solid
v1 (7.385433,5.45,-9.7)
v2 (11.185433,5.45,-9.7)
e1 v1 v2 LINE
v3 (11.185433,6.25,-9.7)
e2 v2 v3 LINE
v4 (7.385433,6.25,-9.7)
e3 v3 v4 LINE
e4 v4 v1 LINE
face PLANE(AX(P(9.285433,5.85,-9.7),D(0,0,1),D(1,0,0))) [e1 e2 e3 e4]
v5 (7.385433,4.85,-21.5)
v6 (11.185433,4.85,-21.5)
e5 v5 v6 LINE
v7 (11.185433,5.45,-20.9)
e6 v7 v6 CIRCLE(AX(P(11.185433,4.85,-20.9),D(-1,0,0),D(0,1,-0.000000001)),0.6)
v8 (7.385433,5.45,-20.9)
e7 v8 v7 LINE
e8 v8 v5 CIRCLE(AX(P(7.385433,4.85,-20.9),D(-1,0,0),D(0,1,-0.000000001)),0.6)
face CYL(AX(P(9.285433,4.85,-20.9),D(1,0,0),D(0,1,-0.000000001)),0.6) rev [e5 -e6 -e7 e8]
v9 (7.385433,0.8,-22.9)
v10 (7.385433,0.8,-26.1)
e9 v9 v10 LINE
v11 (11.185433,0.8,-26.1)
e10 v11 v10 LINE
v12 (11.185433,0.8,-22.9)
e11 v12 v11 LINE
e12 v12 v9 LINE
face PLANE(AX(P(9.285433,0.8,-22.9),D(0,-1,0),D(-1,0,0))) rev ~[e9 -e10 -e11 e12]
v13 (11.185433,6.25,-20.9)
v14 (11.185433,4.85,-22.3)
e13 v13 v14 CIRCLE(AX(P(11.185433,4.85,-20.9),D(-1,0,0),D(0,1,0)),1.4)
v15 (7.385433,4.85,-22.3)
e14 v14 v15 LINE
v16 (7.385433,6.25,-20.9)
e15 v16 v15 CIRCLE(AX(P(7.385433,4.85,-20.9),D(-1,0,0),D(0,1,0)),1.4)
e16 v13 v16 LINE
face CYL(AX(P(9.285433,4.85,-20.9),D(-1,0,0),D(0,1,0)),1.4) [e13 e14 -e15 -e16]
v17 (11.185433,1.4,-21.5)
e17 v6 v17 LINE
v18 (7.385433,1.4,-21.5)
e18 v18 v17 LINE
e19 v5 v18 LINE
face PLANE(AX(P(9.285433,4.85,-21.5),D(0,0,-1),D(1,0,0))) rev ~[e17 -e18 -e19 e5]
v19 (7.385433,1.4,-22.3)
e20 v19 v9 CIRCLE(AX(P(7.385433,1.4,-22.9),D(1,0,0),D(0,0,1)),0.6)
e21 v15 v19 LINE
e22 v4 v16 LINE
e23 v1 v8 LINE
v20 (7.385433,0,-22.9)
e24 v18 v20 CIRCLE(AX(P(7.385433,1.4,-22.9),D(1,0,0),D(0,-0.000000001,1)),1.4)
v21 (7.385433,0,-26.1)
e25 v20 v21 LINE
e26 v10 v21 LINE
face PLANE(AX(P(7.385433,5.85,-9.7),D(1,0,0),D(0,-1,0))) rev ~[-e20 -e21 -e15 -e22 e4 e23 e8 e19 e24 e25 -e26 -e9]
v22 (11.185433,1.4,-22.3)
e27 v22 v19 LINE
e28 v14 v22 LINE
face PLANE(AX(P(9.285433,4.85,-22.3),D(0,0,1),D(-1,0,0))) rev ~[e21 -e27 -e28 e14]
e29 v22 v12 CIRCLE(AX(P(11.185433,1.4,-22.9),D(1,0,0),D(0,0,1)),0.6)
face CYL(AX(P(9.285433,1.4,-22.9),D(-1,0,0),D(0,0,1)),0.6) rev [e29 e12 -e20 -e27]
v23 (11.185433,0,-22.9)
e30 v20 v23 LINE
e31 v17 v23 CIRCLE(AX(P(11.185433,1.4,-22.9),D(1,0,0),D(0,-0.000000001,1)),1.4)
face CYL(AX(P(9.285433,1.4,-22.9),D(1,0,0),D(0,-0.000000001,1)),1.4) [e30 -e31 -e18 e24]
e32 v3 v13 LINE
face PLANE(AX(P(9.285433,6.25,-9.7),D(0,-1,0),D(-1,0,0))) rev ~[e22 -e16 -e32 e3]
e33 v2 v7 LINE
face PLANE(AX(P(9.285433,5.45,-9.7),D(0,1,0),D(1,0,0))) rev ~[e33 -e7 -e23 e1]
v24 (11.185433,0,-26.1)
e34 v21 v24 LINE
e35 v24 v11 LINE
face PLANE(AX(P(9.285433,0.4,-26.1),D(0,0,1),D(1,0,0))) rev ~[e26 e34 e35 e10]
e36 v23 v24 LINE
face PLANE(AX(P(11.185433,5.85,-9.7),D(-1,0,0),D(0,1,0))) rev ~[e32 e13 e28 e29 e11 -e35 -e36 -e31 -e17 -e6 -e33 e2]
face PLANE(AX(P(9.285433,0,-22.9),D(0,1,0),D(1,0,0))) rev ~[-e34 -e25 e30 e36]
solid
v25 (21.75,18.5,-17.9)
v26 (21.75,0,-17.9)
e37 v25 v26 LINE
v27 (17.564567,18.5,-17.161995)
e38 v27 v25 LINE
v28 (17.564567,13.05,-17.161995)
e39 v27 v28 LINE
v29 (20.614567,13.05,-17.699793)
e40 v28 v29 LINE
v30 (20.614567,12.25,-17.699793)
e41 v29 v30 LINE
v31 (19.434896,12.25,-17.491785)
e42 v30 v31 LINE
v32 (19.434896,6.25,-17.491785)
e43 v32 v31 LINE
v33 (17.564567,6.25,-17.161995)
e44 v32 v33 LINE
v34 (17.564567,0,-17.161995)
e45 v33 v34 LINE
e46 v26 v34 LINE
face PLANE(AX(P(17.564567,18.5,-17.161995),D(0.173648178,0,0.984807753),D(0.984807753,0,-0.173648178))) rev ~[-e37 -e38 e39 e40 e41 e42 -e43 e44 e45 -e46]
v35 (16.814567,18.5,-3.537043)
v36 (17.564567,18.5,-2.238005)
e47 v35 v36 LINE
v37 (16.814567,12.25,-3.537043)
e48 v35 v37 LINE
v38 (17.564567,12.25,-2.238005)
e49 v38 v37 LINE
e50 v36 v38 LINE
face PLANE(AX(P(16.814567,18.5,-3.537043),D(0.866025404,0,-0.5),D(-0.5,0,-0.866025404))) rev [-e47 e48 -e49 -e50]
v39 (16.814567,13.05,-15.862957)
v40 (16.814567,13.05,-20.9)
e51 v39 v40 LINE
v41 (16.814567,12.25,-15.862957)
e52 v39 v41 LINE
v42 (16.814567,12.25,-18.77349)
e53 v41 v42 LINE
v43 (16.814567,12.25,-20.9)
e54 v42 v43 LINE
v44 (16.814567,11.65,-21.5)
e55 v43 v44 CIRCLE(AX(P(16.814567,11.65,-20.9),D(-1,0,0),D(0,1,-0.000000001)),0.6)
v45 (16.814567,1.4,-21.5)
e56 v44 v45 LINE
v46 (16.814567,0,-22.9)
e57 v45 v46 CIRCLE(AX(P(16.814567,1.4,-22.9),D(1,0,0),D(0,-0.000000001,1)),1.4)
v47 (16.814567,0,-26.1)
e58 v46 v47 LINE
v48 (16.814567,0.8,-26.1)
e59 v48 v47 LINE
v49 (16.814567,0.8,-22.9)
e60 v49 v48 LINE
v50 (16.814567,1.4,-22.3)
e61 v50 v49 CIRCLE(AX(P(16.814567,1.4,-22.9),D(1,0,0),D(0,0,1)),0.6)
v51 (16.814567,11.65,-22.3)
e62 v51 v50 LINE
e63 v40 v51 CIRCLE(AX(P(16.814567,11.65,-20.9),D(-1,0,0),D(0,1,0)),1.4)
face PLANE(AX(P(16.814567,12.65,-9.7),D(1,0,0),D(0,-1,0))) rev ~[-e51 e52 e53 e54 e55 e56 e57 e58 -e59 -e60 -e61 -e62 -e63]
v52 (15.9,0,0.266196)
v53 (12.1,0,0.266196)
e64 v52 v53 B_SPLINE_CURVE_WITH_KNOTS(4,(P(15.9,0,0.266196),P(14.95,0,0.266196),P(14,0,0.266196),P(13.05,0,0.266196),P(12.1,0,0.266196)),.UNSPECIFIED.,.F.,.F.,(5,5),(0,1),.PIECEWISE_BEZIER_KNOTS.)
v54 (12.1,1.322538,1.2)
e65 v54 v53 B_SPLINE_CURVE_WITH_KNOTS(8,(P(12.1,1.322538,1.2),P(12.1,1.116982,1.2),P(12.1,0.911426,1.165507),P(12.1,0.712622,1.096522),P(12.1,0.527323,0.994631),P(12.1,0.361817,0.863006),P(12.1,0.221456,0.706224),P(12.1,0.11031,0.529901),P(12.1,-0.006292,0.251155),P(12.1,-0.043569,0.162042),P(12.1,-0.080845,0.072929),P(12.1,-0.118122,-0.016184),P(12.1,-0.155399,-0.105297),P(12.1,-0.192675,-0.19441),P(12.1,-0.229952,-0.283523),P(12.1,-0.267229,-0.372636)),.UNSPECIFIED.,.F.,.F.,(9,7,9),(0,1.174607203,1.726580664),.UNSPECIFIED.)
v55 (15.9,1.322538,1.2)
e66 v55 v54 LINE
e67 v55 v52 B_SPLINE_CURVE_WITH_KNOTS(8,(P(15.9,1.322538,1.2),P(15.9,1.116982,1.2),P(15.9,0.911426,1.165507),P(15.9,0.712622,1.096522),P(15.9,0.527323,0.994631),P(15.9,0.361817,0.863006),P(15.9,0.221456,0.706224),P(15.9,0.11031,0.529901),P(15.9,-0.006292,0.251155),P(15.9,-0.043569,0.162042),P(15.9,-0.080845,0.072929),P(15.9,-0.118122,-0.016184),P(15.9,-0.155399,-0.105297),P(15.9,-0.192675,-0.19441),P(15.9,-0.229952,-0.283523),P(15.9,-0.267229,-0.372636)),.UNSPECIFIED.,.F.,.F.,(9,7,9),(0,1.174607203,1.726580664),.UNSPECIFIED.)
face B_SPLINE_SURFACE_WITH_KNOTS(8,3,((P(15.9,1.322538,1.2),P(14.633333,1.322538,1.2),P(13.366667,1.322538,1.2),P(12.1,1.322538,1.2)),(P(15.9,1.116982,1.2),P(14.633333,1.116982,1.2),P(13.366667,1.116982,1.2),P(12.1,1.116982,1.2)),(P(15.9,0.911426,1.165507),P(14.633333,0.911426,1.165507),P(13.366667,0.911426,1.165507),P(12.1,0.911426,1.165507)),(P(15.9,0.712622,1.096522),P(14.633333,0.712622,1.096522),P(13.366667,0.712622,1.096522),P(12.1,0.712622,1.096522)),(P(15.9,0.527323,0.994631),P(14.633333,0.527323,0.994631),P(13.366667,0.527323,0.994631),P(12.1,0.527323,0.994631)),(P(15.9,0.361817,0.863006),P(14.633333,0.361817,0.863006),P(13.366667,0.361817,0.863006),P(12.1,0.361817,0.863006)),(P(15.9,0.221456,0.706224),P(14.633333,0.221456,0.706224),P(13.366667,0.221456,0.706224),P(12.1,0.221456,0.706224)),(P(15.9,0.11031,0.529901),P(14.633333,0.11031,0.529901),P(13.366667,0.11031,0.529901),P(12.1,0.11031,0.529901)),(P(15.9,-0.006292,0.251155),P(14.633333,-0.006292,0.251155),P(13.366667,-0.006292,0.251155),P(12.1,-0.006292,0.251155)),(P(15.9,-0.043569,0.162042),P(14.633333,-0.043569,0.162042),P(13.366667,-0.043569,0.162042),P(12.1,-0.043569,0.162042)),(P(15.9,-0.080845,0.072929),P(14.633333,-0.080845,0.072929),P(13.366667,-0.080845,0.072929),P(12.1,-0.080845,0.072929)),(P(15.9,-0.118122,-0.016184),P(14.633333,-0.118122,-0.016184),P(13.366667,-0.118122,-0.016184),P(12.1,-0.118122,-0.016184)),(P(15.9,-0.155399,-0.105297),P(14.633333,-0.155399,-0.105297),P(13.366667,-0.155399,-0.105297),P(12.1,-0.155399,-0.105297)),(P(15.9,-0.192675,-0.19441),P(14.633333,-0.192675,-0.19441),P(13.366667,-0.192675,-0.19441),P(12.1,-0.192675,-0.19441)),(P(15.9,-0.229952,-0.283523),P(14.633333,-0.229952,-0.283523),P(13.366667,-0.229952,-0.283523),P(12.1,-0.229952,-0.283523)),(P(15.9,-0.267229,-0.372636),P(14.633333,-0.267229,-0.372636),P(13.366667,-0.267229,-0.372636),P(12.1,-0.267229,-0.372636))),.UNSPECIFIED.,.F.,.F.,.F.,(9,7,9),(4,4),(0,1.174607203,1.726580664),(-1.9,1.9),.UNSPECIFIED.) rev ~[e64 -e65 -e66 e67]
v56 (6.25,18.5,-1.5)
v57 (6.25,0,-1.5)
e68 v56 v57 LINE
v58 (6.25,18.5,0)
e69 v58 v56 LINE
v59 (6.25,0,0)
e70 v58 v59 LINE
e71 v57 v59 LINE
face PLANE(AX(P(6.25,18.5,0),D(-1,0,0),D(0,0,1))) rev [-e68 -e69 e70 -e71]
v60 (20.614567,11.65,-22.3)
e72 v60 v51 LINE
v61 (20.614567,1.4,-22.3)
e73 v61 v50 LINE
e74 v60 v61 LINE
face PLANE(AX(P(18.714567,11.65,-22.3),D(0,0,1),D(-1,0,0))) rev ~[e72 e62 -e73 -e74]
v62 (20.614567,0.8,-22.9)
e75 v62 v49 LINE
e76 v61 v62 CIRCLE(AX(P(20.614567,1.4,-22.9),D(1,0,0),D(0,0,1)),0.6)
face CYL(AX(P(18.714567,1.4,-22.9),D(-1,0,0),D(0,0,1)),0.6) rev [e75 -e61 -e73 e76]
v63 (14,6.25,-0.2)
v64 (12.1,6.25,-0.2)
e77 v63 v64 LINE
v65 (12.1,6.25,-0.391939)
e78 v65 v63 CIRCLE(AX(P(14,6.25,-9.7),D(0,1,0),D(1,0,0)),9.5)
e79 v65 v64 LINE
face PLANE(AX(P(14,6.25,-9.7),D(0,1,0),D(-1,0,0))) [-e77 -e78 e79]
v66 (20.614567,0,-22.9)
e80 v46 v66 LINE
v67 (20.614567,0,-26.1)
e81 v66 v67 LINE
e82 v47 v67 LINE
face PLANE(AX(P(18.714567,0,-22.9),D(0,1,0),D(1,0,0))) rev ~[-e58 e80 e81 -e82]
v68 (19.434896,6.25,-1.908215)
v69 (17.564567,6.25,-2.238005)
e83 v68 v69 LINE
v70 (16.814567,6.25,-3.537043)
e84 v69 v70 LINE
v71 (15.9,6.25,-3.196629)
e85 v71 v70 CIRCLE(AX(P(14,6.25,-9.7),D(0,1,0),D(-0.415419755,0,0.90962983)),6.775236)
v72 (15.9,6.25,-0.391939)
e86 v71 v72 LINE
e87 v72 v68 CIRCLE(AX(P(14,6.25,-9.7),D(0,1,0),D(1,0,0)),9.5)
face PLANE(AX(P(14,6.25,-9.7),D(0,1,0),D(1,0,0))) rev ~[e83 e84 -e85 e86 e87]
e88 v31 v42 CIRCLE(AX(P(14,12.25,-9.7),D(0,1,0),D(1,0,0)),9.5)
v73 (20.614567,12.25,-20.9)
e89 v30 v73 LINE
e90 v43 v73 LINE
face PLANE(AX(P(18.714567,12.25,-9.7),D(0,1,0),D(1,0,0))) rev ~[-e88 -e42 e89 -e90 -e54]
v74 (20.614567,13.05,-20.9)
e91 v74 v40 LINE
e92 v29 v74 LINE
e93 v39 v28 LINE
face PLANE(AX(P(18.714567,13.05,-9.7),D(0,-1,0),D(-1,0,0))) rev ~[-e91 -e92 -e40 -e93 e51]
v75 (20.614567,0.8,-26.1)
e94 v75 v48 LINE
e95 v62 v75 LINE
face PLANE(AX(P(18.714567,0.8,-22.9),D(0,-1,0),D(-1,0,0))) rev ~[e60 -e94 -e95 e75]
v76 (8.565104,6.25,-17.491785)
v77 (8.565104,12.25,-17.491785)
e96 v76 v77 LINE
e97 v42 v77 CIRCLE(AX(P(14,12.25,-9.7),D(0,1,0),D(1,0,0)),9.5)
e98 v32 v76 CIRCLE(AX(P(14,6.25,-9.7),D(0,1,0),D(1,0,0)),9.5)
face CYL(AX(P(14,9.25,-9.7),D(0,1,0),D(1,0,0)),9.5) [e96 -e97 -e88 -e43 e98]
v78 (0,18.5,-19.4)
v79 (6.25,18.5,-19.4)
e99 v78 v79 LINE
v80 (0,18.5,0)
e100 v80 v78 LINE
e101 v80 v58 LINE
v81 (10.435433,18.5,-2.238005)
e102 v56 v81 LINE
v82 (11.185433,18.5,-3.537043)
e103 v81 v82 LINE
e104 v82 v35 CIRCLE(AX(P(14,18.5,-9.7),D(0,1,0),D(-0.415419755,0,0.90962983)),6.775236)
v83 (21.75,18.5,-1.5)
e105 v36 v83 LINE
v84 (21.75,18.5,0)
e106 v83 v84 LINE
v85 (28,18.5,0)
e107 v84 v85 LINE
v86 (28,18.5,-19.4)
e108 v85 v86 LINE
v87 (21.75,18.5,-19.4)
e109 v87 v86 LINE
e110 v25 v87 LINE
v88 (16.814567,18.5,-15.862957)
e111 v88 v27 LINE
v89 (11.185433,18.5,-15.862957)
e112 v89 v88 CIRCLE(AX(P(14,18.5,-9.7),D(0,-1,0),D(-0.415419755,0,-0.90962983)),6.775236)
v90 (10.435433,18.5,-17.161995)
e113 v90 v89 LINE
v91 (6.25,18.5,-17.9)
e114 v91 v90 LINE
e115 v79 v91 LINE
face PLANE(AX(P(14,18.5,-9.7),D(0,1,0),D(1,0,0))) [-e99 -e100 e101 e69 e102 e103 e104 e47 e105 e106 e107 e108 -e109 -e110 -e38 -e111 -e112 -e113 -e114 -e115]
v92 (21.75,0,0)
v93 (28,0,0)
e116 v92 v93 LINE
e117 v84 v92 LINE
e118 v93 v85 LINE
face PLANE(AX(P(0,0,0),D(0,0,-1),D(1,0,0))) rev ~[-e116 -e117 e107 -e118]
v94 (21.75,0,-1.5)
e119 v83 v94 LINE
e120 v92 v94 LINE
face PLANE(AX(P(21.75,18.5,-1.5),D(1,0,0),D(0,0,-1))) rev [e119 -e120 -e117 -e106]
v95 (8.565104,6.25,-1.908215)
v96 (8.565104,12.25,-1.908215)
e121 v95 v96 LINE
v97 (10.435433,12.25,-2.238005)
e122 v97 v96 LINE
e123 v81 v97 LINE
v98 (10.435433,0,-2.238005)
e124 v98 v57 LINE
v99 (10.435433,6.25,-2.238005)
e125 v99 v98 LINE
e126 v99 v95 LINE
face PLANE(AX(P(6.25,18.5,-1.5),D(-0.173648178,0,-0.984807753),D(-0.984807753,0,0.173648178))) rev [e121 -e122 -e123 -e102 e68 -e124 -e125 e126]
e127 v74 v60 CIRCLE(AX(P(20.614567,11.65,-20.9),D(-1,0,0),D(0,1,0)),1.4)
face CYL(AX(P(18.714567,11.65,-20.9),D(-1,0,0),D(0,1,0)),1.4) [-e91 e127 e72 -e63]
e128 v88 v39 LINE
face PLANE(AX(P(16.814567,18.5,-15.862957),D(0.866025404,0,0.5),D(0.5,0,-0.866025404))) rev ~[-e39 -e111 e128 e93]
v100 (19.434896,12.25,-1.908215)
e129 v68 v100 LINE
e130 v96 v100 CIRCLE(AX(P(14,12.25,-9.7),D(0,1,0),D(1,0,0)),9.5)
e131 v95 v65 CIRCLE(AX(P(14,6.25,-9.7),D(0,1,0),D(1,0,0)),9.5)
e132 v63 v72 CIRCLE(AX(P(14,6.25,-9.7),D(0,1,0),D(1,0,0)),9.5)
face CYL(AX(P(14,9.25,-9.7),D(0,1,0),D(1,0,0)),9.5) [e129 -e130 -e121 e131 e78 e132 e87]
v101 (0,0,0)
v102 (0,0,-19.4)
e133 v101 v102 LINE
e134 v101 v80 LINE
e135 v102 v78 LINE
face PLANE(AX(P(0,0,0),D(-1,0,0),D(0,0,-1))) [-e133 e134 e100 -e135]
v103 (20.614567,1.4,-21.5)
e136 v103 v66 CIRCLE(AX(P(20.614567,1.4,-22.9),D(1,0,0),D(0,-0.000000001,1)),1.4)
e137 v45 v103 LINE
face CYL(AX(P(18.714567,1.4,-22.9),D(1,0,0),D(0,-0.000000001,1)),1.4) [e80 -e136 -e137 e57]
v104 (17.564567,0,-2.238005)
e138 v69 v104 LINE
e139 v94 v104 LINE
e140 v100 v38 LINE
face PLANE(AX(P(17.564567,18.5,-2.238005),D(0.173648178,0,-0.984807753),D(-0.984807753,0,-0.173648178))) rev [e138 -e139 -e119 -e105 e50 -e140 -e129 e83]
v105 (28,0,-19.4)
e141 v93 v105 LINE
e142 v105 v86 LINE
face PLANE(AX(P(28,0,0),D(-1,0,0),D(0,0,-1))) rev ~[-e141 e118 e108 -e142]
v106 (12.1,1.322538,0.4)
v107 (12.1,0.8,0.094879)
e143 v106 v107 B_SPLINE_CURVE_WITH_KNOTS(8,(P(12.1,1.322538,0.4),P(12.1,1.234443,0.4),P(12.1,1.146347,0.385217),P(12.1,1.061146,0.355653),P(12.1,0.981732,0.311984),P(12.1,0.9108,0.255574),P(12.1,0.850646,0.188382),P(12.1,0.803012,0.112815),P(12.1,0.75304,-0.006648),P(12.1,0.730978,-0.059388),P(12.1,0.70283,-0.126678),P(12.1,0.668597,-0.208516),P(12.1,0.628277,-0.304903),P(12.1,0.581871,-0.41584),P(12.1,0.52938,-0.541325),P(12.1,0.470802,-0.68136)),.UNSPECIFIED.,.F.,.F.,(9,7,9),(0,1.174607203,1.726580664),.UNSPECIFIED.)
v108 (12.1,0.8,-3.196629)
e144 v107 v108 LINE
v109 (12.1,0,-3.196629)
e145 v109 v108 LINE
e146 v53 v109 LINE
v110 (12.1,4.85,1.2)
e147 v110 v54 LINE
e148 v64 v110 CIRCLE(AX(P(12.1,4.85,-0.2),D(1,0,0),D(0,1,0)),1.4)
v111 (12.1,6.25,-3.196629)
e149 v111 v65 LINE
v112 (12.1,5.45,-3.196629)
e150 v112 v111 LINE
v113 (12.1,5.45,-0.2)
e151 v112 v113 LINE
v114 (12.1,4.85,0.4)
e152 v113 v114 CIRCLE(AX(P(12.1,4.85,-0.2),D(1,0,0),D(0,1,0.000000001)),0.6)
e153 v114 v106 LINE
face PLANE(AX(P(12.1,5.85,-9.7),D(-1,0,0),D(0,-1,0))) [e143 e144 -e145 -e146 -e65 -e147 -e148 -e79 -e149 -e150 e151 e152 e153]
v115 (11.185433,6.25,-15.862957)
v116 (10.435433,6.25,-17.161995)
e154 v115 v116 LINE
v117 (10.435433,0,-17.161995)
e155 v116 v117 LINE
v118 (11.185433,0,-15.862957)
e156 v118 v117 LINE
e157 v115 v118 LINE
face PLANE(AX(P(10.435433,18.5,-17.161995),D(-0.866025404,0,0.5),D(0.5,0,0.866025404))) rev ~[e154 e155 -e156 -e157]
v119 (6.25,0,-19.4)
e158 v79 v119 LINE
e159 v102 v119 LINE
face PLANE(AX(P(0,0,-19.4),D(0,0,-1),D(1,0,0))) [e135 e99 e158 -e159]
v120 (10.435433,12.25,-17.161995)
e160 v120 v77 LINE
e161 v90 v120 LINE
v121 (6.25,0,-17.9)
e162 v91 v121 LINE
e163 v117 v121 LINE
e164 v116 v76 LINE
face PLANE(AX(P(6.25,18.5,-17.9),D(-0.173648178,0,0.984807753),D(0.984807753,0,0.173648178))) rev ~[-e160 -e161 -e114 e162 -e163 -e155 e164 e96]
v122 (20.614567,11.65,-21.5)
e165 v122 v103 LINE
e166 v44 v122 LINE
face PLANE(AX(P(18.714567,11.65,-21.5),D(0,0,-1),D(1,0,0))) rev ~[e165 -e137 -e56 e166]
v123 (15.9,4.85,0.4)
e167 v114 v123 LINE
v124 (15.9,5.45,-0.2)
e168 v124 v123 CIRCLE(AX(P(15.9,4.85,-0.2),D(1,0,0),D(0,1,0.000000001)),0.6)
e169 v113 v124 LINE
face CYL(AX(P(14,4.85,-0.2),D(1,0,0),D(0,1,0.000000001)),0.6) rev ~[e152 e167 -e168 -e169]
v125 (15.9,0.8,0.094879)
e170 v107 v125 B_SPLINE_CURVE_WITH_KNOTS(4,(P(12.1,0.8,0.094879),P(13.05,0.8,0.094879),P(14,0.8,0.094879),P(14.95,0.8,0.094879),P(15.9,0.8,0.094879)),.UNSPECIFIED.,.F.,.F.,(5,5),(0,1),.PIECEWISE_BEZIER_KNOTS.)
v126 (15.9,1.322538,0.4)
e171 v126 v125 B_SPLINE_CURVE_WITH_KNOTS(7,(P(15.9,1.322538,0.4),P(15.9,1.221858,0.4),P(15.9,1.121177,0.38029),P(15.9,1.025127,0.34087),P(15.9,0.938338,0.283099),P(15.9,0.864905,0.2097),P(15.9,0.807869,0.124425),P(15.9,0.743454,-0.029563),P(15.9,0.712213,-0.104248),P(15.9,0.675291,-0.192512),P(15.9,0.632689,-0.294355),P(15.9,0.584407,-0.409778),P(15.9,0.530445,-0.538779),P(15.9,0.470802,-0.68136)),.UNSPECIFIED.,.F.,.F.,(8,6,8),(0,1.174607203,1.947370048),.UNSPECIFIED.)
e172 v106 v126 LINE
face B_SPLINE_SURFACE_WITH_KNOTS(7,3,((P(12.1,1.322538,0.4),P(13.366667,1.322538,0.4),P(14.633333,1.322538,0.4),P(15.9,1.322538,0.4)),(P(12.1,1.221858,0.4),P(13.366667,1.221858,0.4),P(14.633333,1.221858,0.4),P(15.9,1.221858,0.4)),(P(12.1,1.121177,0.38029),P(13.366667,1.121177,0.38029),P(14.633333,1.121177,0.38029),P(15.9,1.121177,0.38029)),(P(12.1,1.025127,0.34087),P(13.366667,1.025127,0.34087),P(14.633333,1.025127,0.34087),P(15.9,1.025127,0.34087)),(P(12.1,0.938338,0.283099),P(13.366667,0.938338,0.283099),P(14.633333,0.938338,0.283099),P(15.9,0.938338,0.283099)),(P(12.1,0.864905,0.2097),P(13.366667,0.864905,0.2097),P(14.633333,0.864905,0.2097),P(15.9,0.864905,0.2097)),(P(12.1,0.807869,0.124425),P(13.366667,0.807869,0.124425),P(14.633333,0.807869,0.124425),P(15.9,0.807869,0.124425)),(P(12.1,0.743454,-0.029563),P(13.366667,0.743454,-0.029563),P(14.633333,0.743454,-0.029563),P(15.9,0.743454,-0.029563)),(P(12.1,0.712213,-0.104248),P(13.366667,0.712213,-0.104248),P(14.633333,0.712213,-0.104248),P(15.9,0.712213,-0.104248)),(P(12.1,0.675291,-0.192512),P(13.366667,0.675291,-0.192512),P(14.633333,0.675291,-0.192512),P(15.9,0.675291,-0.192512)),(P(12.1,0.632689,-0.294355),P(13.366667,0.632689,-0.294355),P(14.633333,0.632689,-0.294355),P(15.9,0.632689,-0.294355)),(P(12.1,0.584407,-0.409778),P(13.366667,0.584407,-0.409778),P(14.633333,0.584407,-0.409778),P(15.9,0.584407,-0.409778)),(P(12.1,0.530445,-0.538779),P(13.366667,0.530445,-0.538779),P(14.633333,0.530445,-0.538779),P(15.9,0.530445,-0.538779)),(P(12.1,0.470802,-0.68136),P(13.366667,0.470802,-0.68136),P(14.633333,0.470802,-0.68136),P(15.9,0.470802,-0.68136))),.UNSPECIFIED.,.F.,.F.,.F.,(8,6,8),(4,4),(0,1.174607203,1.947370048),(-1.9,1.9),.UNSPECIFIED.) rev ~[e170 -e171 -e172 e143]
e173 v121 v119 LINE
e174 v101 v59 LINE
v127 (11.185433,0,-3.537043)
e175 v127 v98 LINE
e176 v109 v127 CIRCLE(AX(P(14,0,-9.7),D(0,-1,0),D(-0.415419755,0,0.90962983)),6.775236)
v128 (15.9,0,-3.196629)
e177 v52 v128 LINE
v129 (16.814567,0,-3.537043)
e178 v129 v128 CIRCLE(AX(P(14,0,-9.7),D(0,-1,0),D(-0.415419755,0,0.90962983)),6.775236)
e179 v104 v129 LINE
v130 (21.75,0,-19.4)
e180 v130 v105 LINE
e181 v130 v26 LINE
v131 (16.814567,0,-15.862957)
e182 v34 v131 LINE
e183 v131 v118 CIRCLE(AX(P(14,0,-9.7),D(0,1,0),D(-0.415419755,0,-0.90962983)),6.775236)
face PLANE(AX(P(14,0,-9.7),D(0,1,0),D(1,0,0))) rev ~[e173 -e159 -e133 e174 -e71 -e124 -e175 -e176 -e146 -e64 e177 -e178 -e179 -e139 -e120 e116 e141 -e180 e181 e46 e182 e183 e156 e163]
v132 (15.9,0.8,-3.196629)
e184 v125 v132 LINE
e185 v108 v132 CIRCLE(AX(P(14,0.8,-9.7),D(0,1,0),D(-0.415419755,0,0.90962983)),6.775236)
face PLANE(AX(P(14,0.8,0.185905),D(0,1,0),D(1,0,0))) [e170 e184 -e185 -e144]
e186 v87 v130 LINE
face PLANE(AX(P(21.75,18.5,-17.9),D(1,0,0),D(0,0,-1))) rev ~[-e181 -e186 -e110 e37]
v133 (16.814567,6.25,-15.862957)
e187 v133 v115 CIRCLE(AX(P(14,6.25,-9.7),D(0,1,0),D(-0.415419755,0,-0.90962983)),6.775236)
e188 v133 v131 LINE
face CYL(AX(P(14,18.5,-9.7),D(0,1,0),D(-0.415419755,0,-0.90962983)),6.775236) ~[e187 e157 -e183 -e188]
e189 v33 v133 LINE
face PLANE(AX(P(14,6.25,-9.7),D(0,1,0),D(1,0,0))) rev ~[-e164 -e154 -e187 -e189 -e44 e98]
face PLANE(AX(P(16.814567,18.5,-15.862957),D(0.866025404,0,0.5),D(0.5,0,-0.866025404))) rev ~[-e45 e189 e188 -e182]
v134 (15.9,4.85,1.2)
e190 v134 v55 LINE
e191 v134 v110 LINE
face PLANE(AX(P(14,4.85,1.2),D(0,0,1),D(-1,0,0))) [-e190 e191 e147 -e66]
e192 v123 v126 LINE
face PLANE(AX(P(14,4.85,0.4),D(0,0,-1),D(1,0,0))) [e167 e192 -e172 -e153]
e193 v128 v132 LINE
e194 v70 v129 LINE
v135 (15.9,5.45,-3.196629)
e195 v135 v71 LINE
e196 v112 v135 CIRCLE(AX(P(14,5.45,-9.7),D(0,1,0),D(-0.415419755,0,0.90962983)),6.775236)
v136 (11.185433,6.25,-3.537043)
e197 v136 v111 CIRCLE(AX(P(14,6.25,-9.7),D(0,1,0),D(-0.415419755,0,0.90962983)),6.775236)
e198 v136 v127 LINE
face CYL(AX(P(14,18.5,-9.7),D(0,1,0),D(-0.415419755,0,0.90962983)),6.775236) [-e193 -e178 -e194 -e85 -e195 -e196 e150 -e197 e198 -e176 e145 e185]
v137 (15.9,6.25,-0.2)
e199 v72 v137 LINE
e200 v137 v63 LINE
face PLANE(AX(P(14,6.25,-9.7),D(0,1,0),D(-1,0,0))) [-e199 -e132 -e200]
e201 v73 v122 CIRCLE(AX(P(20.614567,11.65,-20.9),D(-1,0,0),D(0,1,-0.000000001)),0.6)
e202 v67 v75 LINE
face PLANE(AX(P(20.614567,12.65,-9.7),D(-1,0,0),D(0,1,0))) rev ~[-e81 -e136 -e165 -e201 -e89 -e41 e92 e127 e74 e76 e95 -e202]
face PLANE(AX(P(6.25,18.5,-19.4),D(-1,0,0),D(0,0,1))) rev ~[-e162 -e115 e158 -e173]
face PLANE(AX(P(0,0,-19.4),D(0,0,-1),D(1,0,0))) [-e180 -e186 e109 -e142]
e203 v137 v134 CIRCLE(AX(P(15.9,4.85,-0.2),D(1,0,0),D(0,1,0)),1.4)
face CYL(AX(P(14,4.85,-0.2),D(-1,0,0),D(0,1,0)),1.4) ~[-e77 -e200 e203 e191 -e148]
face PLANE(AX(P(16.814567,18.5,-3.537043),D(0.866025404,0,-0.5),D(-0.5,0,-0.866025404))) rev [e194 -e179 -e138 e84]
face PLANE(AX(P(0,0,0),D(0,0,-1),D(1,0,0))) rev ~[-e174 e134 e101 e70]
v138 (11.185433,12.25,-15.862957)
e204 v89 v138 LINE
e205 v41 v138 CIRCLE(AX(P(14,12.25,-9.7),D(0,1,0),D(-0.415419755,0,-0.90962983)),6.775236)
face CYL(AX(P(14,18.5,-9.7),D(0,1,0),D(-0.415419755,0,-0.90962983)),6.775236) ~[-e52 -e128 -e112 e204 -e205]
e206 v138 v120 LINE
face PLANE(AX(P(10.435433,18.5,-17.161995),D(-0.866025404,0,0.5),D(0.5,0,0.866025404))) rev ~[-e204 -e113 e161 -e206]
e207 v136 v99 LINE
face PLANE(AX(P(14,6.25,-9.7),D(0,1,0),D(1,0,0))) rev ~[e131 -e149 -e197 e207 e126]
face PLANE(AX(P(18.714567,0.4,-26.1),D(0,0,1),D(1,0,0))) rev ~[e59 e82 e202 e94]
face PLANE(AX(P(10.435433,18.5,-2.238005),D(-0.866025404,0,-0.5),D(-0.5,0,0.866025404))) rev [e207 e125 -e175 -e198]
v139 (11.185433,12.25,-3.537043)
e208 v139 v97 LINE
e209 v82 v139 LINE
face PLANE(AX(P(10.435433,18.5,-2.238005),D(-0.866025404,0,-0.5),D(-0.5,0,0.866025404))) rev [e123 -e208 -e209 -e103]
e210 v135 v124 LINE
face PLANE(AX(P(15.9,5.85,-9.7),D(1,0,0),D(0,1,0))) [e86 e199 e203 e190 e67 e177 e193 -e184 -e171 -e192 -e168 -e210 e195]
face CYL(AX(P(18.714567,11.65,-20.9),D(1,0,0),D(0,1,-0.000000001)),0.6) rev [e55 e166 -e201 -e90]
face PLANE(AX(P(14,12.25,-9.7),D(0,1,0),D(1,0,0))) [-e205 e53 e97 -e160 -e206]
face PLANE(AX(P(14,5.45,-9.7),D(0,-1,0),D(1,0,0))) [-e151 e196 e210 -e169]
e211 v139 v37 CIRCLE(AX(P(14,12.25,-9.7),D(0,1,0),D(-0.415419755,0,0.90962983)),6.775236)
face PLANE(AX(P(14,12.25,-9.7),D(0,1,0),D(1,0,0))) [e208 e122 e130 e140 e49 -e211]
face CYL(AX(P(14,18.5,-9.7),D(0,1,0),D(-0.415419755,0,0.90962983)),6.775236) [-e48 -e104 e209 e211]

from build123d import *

# Parameters (mm, degrees)
SKETCH1_W           = 28
SKETCH1_H           = 19.4
BOSS_EXTRUDE1_DEPTH = 18.5
CUT_EXTRUDE1_REACH  = 40.764
SKETCH3_R           = 9.5
BOSS_EXTRUDE2_DEPTH = 3
SKETCH4_W           = 3.8
SKETCH4_H           = 0.8
SKETCH7_W           = 3.8
SKETCH7_H           = 0.8
SKETCH9_W           = 3.8
SKETCH9_H           = 0.8


with BuildPart() as part:
    # Sketch1 → Boss-Extrude1 (new body)
    with BuildSketch(Plane(origin=(0, 0, 0), x_dir=(1, 0, 0), z_dir=(0, 1, 0))):
        with Locations((14, 9.7)):
            Rectangle(SKETCH1_W, SKETCH1_H)
    extrude(amount=BOSS_EXTRUDE1_DEPTH)

    # Sketch2 → Cut-Extrude1 (cut, up to next)
    with BuildSketch(Plane(origin=(0, 18.5, 0), x_dir=(1, 0, 0), z_dir=(0, 1, 0)), mode=Mode.PRIVATE) as cut_extrude1_sk1:
        with BuildLine():
            Line((21.75, 19.4), (6.25, 19.4))
            Line((6.25, 19.4), (6.25, 17.9))
            Line((6.25, 17.9), (10.43543295, 17.161995245))
            Line((10.43543295, 17.161995245), (11.18543295, 15.862957139))
            ThreePointArc((11.18543295, 15.862957139), (14, 16.475236407), (16.81456705, 15.862957139))
            Line((16.81456705, 15.862957139), (17.56456705, 17.161995245))
            Line((17.56456705, 17.161995245), (21.75, 17.9))
            Line((21.75, 17.9), (21.75, 19.4))
        make_face()
    cut_extrude1_tool1 = extrude(cut_extrude1_sk1.sketch, amount=-CUT_EXTRUDE1_REACH, mode=Mode.PRIVATE) & part.part
    cut_extrude1 = cut_extrude1_tool1.solids().sort_by_distance((14, 18.5, -18.102392))[0]
    add(cut_extrude1, mode=Mode.SUBTRACT)

    # Mirror1: Cut-Extrude1 across plane
    add(cut_extrude1.mirror(Plane.XY.offset(-9.7)), mode=Mode.SUBTRACT)

    # Sketch3 → Boss-Extrude2 (add, symmetric)
    with BuildSketch(Plane(origin=(0, 9.25, 0), x_dir=(1, 0, 0), z_dir=(0, 1, 0))):
        with Locations((14, 9.7)):
            Circle(SKETCH3_R)
    extrude(amount=BOSS_EXTRUDE2_DEPTH, both=True)

    # Sweep1: sweep along a path in Sketch6
    with BuildLine(Plane.ZY.offset(-18.71456705)) as sweep1_path:
        Line((-9.7, 12.65), (-20.9, 12.65))
        ThreePointArc((-20.9, 12.65), (-21.607106781, 12.357106781), (-21.9, 11.65))
        Line((-21.9, 11.65), (-21.9, 1.4))
        ThreePointArc((-21.9, 1.4), (-22.192893219, 0.692893219), (-22.9, 0.4))
        Line((-22.9, 0.4), (-26.1, 0.4))
    # Sketch4 → Sweep1 (sweep)
    with BuildSketch(Plane.XY.offset(-9.7)):
        with Locations((18.71456705, 12.65)):
            Rectangle(SKETCH4_W, SKETCH4_H)
    sweep(path=sweep1_path.line)

    # Sweep3: sweep along a path in Sketch12
    with BuildLine(Plane.ZY.offset(-14)) as sweep3_path:
        Line((-9.7, 5.85), (-0.2, 5.85))
        ThreePointArc((-0.2, 5.85), (0.507106781, 5.557106781), (0.8, 4.85))
        Line((0.8, 4.85), (0.8, 1.322538328))
        ThreePointArc((0.8, 1.322538328), (0.632437827, 0.768419871), (0.185905473, 0.4))
        Line((0.185905473, 0.4), (-9.7, 0.4))
    # Sketch9 → Sweep3 (sweep)
    with BuildSketch(Plane.XY.offset(-9.7)):
        with Locations((14, 5.85)):
            Rectangle(SKETCH9_W, SKETCH9_H)
    sweep(path=sweep3_path.line, transition=Transition.RIGHT)


with BuildPart() as body_2:
    # Sweep2: sweep along a path in Sketch8
    with BuildLine(Plane.ZY.offset(-9.28543295)) as sweep2_path:
        Line((-9.7, 5.85), (-20.9, 5.85))
        ThreePointArc((-20.9, 5.85), (-21.607106781, 5.557106781), (-21.9, 4.85))
        Line((-21.9, 4.85), (-21.9, 1.4))
        ThreePointArc((-21.9, 1.4), (-22.192893219, 0.692893219), (-22.9, 0.4))
        Line((-22.9, 0.4), (-26.1, 0.4))
    # Sketch7 → Sweep2 (sweep)
    with BuildSketch(Plane.XY.offset(-9.7)):
        with Locations((9.28543295, 5.85)):
            Rectangle(SKETCH7_W, SKETCH7_H)
    sweep(path=sweep2_path.line)


solid = Compound([part.part, body_2.part])
